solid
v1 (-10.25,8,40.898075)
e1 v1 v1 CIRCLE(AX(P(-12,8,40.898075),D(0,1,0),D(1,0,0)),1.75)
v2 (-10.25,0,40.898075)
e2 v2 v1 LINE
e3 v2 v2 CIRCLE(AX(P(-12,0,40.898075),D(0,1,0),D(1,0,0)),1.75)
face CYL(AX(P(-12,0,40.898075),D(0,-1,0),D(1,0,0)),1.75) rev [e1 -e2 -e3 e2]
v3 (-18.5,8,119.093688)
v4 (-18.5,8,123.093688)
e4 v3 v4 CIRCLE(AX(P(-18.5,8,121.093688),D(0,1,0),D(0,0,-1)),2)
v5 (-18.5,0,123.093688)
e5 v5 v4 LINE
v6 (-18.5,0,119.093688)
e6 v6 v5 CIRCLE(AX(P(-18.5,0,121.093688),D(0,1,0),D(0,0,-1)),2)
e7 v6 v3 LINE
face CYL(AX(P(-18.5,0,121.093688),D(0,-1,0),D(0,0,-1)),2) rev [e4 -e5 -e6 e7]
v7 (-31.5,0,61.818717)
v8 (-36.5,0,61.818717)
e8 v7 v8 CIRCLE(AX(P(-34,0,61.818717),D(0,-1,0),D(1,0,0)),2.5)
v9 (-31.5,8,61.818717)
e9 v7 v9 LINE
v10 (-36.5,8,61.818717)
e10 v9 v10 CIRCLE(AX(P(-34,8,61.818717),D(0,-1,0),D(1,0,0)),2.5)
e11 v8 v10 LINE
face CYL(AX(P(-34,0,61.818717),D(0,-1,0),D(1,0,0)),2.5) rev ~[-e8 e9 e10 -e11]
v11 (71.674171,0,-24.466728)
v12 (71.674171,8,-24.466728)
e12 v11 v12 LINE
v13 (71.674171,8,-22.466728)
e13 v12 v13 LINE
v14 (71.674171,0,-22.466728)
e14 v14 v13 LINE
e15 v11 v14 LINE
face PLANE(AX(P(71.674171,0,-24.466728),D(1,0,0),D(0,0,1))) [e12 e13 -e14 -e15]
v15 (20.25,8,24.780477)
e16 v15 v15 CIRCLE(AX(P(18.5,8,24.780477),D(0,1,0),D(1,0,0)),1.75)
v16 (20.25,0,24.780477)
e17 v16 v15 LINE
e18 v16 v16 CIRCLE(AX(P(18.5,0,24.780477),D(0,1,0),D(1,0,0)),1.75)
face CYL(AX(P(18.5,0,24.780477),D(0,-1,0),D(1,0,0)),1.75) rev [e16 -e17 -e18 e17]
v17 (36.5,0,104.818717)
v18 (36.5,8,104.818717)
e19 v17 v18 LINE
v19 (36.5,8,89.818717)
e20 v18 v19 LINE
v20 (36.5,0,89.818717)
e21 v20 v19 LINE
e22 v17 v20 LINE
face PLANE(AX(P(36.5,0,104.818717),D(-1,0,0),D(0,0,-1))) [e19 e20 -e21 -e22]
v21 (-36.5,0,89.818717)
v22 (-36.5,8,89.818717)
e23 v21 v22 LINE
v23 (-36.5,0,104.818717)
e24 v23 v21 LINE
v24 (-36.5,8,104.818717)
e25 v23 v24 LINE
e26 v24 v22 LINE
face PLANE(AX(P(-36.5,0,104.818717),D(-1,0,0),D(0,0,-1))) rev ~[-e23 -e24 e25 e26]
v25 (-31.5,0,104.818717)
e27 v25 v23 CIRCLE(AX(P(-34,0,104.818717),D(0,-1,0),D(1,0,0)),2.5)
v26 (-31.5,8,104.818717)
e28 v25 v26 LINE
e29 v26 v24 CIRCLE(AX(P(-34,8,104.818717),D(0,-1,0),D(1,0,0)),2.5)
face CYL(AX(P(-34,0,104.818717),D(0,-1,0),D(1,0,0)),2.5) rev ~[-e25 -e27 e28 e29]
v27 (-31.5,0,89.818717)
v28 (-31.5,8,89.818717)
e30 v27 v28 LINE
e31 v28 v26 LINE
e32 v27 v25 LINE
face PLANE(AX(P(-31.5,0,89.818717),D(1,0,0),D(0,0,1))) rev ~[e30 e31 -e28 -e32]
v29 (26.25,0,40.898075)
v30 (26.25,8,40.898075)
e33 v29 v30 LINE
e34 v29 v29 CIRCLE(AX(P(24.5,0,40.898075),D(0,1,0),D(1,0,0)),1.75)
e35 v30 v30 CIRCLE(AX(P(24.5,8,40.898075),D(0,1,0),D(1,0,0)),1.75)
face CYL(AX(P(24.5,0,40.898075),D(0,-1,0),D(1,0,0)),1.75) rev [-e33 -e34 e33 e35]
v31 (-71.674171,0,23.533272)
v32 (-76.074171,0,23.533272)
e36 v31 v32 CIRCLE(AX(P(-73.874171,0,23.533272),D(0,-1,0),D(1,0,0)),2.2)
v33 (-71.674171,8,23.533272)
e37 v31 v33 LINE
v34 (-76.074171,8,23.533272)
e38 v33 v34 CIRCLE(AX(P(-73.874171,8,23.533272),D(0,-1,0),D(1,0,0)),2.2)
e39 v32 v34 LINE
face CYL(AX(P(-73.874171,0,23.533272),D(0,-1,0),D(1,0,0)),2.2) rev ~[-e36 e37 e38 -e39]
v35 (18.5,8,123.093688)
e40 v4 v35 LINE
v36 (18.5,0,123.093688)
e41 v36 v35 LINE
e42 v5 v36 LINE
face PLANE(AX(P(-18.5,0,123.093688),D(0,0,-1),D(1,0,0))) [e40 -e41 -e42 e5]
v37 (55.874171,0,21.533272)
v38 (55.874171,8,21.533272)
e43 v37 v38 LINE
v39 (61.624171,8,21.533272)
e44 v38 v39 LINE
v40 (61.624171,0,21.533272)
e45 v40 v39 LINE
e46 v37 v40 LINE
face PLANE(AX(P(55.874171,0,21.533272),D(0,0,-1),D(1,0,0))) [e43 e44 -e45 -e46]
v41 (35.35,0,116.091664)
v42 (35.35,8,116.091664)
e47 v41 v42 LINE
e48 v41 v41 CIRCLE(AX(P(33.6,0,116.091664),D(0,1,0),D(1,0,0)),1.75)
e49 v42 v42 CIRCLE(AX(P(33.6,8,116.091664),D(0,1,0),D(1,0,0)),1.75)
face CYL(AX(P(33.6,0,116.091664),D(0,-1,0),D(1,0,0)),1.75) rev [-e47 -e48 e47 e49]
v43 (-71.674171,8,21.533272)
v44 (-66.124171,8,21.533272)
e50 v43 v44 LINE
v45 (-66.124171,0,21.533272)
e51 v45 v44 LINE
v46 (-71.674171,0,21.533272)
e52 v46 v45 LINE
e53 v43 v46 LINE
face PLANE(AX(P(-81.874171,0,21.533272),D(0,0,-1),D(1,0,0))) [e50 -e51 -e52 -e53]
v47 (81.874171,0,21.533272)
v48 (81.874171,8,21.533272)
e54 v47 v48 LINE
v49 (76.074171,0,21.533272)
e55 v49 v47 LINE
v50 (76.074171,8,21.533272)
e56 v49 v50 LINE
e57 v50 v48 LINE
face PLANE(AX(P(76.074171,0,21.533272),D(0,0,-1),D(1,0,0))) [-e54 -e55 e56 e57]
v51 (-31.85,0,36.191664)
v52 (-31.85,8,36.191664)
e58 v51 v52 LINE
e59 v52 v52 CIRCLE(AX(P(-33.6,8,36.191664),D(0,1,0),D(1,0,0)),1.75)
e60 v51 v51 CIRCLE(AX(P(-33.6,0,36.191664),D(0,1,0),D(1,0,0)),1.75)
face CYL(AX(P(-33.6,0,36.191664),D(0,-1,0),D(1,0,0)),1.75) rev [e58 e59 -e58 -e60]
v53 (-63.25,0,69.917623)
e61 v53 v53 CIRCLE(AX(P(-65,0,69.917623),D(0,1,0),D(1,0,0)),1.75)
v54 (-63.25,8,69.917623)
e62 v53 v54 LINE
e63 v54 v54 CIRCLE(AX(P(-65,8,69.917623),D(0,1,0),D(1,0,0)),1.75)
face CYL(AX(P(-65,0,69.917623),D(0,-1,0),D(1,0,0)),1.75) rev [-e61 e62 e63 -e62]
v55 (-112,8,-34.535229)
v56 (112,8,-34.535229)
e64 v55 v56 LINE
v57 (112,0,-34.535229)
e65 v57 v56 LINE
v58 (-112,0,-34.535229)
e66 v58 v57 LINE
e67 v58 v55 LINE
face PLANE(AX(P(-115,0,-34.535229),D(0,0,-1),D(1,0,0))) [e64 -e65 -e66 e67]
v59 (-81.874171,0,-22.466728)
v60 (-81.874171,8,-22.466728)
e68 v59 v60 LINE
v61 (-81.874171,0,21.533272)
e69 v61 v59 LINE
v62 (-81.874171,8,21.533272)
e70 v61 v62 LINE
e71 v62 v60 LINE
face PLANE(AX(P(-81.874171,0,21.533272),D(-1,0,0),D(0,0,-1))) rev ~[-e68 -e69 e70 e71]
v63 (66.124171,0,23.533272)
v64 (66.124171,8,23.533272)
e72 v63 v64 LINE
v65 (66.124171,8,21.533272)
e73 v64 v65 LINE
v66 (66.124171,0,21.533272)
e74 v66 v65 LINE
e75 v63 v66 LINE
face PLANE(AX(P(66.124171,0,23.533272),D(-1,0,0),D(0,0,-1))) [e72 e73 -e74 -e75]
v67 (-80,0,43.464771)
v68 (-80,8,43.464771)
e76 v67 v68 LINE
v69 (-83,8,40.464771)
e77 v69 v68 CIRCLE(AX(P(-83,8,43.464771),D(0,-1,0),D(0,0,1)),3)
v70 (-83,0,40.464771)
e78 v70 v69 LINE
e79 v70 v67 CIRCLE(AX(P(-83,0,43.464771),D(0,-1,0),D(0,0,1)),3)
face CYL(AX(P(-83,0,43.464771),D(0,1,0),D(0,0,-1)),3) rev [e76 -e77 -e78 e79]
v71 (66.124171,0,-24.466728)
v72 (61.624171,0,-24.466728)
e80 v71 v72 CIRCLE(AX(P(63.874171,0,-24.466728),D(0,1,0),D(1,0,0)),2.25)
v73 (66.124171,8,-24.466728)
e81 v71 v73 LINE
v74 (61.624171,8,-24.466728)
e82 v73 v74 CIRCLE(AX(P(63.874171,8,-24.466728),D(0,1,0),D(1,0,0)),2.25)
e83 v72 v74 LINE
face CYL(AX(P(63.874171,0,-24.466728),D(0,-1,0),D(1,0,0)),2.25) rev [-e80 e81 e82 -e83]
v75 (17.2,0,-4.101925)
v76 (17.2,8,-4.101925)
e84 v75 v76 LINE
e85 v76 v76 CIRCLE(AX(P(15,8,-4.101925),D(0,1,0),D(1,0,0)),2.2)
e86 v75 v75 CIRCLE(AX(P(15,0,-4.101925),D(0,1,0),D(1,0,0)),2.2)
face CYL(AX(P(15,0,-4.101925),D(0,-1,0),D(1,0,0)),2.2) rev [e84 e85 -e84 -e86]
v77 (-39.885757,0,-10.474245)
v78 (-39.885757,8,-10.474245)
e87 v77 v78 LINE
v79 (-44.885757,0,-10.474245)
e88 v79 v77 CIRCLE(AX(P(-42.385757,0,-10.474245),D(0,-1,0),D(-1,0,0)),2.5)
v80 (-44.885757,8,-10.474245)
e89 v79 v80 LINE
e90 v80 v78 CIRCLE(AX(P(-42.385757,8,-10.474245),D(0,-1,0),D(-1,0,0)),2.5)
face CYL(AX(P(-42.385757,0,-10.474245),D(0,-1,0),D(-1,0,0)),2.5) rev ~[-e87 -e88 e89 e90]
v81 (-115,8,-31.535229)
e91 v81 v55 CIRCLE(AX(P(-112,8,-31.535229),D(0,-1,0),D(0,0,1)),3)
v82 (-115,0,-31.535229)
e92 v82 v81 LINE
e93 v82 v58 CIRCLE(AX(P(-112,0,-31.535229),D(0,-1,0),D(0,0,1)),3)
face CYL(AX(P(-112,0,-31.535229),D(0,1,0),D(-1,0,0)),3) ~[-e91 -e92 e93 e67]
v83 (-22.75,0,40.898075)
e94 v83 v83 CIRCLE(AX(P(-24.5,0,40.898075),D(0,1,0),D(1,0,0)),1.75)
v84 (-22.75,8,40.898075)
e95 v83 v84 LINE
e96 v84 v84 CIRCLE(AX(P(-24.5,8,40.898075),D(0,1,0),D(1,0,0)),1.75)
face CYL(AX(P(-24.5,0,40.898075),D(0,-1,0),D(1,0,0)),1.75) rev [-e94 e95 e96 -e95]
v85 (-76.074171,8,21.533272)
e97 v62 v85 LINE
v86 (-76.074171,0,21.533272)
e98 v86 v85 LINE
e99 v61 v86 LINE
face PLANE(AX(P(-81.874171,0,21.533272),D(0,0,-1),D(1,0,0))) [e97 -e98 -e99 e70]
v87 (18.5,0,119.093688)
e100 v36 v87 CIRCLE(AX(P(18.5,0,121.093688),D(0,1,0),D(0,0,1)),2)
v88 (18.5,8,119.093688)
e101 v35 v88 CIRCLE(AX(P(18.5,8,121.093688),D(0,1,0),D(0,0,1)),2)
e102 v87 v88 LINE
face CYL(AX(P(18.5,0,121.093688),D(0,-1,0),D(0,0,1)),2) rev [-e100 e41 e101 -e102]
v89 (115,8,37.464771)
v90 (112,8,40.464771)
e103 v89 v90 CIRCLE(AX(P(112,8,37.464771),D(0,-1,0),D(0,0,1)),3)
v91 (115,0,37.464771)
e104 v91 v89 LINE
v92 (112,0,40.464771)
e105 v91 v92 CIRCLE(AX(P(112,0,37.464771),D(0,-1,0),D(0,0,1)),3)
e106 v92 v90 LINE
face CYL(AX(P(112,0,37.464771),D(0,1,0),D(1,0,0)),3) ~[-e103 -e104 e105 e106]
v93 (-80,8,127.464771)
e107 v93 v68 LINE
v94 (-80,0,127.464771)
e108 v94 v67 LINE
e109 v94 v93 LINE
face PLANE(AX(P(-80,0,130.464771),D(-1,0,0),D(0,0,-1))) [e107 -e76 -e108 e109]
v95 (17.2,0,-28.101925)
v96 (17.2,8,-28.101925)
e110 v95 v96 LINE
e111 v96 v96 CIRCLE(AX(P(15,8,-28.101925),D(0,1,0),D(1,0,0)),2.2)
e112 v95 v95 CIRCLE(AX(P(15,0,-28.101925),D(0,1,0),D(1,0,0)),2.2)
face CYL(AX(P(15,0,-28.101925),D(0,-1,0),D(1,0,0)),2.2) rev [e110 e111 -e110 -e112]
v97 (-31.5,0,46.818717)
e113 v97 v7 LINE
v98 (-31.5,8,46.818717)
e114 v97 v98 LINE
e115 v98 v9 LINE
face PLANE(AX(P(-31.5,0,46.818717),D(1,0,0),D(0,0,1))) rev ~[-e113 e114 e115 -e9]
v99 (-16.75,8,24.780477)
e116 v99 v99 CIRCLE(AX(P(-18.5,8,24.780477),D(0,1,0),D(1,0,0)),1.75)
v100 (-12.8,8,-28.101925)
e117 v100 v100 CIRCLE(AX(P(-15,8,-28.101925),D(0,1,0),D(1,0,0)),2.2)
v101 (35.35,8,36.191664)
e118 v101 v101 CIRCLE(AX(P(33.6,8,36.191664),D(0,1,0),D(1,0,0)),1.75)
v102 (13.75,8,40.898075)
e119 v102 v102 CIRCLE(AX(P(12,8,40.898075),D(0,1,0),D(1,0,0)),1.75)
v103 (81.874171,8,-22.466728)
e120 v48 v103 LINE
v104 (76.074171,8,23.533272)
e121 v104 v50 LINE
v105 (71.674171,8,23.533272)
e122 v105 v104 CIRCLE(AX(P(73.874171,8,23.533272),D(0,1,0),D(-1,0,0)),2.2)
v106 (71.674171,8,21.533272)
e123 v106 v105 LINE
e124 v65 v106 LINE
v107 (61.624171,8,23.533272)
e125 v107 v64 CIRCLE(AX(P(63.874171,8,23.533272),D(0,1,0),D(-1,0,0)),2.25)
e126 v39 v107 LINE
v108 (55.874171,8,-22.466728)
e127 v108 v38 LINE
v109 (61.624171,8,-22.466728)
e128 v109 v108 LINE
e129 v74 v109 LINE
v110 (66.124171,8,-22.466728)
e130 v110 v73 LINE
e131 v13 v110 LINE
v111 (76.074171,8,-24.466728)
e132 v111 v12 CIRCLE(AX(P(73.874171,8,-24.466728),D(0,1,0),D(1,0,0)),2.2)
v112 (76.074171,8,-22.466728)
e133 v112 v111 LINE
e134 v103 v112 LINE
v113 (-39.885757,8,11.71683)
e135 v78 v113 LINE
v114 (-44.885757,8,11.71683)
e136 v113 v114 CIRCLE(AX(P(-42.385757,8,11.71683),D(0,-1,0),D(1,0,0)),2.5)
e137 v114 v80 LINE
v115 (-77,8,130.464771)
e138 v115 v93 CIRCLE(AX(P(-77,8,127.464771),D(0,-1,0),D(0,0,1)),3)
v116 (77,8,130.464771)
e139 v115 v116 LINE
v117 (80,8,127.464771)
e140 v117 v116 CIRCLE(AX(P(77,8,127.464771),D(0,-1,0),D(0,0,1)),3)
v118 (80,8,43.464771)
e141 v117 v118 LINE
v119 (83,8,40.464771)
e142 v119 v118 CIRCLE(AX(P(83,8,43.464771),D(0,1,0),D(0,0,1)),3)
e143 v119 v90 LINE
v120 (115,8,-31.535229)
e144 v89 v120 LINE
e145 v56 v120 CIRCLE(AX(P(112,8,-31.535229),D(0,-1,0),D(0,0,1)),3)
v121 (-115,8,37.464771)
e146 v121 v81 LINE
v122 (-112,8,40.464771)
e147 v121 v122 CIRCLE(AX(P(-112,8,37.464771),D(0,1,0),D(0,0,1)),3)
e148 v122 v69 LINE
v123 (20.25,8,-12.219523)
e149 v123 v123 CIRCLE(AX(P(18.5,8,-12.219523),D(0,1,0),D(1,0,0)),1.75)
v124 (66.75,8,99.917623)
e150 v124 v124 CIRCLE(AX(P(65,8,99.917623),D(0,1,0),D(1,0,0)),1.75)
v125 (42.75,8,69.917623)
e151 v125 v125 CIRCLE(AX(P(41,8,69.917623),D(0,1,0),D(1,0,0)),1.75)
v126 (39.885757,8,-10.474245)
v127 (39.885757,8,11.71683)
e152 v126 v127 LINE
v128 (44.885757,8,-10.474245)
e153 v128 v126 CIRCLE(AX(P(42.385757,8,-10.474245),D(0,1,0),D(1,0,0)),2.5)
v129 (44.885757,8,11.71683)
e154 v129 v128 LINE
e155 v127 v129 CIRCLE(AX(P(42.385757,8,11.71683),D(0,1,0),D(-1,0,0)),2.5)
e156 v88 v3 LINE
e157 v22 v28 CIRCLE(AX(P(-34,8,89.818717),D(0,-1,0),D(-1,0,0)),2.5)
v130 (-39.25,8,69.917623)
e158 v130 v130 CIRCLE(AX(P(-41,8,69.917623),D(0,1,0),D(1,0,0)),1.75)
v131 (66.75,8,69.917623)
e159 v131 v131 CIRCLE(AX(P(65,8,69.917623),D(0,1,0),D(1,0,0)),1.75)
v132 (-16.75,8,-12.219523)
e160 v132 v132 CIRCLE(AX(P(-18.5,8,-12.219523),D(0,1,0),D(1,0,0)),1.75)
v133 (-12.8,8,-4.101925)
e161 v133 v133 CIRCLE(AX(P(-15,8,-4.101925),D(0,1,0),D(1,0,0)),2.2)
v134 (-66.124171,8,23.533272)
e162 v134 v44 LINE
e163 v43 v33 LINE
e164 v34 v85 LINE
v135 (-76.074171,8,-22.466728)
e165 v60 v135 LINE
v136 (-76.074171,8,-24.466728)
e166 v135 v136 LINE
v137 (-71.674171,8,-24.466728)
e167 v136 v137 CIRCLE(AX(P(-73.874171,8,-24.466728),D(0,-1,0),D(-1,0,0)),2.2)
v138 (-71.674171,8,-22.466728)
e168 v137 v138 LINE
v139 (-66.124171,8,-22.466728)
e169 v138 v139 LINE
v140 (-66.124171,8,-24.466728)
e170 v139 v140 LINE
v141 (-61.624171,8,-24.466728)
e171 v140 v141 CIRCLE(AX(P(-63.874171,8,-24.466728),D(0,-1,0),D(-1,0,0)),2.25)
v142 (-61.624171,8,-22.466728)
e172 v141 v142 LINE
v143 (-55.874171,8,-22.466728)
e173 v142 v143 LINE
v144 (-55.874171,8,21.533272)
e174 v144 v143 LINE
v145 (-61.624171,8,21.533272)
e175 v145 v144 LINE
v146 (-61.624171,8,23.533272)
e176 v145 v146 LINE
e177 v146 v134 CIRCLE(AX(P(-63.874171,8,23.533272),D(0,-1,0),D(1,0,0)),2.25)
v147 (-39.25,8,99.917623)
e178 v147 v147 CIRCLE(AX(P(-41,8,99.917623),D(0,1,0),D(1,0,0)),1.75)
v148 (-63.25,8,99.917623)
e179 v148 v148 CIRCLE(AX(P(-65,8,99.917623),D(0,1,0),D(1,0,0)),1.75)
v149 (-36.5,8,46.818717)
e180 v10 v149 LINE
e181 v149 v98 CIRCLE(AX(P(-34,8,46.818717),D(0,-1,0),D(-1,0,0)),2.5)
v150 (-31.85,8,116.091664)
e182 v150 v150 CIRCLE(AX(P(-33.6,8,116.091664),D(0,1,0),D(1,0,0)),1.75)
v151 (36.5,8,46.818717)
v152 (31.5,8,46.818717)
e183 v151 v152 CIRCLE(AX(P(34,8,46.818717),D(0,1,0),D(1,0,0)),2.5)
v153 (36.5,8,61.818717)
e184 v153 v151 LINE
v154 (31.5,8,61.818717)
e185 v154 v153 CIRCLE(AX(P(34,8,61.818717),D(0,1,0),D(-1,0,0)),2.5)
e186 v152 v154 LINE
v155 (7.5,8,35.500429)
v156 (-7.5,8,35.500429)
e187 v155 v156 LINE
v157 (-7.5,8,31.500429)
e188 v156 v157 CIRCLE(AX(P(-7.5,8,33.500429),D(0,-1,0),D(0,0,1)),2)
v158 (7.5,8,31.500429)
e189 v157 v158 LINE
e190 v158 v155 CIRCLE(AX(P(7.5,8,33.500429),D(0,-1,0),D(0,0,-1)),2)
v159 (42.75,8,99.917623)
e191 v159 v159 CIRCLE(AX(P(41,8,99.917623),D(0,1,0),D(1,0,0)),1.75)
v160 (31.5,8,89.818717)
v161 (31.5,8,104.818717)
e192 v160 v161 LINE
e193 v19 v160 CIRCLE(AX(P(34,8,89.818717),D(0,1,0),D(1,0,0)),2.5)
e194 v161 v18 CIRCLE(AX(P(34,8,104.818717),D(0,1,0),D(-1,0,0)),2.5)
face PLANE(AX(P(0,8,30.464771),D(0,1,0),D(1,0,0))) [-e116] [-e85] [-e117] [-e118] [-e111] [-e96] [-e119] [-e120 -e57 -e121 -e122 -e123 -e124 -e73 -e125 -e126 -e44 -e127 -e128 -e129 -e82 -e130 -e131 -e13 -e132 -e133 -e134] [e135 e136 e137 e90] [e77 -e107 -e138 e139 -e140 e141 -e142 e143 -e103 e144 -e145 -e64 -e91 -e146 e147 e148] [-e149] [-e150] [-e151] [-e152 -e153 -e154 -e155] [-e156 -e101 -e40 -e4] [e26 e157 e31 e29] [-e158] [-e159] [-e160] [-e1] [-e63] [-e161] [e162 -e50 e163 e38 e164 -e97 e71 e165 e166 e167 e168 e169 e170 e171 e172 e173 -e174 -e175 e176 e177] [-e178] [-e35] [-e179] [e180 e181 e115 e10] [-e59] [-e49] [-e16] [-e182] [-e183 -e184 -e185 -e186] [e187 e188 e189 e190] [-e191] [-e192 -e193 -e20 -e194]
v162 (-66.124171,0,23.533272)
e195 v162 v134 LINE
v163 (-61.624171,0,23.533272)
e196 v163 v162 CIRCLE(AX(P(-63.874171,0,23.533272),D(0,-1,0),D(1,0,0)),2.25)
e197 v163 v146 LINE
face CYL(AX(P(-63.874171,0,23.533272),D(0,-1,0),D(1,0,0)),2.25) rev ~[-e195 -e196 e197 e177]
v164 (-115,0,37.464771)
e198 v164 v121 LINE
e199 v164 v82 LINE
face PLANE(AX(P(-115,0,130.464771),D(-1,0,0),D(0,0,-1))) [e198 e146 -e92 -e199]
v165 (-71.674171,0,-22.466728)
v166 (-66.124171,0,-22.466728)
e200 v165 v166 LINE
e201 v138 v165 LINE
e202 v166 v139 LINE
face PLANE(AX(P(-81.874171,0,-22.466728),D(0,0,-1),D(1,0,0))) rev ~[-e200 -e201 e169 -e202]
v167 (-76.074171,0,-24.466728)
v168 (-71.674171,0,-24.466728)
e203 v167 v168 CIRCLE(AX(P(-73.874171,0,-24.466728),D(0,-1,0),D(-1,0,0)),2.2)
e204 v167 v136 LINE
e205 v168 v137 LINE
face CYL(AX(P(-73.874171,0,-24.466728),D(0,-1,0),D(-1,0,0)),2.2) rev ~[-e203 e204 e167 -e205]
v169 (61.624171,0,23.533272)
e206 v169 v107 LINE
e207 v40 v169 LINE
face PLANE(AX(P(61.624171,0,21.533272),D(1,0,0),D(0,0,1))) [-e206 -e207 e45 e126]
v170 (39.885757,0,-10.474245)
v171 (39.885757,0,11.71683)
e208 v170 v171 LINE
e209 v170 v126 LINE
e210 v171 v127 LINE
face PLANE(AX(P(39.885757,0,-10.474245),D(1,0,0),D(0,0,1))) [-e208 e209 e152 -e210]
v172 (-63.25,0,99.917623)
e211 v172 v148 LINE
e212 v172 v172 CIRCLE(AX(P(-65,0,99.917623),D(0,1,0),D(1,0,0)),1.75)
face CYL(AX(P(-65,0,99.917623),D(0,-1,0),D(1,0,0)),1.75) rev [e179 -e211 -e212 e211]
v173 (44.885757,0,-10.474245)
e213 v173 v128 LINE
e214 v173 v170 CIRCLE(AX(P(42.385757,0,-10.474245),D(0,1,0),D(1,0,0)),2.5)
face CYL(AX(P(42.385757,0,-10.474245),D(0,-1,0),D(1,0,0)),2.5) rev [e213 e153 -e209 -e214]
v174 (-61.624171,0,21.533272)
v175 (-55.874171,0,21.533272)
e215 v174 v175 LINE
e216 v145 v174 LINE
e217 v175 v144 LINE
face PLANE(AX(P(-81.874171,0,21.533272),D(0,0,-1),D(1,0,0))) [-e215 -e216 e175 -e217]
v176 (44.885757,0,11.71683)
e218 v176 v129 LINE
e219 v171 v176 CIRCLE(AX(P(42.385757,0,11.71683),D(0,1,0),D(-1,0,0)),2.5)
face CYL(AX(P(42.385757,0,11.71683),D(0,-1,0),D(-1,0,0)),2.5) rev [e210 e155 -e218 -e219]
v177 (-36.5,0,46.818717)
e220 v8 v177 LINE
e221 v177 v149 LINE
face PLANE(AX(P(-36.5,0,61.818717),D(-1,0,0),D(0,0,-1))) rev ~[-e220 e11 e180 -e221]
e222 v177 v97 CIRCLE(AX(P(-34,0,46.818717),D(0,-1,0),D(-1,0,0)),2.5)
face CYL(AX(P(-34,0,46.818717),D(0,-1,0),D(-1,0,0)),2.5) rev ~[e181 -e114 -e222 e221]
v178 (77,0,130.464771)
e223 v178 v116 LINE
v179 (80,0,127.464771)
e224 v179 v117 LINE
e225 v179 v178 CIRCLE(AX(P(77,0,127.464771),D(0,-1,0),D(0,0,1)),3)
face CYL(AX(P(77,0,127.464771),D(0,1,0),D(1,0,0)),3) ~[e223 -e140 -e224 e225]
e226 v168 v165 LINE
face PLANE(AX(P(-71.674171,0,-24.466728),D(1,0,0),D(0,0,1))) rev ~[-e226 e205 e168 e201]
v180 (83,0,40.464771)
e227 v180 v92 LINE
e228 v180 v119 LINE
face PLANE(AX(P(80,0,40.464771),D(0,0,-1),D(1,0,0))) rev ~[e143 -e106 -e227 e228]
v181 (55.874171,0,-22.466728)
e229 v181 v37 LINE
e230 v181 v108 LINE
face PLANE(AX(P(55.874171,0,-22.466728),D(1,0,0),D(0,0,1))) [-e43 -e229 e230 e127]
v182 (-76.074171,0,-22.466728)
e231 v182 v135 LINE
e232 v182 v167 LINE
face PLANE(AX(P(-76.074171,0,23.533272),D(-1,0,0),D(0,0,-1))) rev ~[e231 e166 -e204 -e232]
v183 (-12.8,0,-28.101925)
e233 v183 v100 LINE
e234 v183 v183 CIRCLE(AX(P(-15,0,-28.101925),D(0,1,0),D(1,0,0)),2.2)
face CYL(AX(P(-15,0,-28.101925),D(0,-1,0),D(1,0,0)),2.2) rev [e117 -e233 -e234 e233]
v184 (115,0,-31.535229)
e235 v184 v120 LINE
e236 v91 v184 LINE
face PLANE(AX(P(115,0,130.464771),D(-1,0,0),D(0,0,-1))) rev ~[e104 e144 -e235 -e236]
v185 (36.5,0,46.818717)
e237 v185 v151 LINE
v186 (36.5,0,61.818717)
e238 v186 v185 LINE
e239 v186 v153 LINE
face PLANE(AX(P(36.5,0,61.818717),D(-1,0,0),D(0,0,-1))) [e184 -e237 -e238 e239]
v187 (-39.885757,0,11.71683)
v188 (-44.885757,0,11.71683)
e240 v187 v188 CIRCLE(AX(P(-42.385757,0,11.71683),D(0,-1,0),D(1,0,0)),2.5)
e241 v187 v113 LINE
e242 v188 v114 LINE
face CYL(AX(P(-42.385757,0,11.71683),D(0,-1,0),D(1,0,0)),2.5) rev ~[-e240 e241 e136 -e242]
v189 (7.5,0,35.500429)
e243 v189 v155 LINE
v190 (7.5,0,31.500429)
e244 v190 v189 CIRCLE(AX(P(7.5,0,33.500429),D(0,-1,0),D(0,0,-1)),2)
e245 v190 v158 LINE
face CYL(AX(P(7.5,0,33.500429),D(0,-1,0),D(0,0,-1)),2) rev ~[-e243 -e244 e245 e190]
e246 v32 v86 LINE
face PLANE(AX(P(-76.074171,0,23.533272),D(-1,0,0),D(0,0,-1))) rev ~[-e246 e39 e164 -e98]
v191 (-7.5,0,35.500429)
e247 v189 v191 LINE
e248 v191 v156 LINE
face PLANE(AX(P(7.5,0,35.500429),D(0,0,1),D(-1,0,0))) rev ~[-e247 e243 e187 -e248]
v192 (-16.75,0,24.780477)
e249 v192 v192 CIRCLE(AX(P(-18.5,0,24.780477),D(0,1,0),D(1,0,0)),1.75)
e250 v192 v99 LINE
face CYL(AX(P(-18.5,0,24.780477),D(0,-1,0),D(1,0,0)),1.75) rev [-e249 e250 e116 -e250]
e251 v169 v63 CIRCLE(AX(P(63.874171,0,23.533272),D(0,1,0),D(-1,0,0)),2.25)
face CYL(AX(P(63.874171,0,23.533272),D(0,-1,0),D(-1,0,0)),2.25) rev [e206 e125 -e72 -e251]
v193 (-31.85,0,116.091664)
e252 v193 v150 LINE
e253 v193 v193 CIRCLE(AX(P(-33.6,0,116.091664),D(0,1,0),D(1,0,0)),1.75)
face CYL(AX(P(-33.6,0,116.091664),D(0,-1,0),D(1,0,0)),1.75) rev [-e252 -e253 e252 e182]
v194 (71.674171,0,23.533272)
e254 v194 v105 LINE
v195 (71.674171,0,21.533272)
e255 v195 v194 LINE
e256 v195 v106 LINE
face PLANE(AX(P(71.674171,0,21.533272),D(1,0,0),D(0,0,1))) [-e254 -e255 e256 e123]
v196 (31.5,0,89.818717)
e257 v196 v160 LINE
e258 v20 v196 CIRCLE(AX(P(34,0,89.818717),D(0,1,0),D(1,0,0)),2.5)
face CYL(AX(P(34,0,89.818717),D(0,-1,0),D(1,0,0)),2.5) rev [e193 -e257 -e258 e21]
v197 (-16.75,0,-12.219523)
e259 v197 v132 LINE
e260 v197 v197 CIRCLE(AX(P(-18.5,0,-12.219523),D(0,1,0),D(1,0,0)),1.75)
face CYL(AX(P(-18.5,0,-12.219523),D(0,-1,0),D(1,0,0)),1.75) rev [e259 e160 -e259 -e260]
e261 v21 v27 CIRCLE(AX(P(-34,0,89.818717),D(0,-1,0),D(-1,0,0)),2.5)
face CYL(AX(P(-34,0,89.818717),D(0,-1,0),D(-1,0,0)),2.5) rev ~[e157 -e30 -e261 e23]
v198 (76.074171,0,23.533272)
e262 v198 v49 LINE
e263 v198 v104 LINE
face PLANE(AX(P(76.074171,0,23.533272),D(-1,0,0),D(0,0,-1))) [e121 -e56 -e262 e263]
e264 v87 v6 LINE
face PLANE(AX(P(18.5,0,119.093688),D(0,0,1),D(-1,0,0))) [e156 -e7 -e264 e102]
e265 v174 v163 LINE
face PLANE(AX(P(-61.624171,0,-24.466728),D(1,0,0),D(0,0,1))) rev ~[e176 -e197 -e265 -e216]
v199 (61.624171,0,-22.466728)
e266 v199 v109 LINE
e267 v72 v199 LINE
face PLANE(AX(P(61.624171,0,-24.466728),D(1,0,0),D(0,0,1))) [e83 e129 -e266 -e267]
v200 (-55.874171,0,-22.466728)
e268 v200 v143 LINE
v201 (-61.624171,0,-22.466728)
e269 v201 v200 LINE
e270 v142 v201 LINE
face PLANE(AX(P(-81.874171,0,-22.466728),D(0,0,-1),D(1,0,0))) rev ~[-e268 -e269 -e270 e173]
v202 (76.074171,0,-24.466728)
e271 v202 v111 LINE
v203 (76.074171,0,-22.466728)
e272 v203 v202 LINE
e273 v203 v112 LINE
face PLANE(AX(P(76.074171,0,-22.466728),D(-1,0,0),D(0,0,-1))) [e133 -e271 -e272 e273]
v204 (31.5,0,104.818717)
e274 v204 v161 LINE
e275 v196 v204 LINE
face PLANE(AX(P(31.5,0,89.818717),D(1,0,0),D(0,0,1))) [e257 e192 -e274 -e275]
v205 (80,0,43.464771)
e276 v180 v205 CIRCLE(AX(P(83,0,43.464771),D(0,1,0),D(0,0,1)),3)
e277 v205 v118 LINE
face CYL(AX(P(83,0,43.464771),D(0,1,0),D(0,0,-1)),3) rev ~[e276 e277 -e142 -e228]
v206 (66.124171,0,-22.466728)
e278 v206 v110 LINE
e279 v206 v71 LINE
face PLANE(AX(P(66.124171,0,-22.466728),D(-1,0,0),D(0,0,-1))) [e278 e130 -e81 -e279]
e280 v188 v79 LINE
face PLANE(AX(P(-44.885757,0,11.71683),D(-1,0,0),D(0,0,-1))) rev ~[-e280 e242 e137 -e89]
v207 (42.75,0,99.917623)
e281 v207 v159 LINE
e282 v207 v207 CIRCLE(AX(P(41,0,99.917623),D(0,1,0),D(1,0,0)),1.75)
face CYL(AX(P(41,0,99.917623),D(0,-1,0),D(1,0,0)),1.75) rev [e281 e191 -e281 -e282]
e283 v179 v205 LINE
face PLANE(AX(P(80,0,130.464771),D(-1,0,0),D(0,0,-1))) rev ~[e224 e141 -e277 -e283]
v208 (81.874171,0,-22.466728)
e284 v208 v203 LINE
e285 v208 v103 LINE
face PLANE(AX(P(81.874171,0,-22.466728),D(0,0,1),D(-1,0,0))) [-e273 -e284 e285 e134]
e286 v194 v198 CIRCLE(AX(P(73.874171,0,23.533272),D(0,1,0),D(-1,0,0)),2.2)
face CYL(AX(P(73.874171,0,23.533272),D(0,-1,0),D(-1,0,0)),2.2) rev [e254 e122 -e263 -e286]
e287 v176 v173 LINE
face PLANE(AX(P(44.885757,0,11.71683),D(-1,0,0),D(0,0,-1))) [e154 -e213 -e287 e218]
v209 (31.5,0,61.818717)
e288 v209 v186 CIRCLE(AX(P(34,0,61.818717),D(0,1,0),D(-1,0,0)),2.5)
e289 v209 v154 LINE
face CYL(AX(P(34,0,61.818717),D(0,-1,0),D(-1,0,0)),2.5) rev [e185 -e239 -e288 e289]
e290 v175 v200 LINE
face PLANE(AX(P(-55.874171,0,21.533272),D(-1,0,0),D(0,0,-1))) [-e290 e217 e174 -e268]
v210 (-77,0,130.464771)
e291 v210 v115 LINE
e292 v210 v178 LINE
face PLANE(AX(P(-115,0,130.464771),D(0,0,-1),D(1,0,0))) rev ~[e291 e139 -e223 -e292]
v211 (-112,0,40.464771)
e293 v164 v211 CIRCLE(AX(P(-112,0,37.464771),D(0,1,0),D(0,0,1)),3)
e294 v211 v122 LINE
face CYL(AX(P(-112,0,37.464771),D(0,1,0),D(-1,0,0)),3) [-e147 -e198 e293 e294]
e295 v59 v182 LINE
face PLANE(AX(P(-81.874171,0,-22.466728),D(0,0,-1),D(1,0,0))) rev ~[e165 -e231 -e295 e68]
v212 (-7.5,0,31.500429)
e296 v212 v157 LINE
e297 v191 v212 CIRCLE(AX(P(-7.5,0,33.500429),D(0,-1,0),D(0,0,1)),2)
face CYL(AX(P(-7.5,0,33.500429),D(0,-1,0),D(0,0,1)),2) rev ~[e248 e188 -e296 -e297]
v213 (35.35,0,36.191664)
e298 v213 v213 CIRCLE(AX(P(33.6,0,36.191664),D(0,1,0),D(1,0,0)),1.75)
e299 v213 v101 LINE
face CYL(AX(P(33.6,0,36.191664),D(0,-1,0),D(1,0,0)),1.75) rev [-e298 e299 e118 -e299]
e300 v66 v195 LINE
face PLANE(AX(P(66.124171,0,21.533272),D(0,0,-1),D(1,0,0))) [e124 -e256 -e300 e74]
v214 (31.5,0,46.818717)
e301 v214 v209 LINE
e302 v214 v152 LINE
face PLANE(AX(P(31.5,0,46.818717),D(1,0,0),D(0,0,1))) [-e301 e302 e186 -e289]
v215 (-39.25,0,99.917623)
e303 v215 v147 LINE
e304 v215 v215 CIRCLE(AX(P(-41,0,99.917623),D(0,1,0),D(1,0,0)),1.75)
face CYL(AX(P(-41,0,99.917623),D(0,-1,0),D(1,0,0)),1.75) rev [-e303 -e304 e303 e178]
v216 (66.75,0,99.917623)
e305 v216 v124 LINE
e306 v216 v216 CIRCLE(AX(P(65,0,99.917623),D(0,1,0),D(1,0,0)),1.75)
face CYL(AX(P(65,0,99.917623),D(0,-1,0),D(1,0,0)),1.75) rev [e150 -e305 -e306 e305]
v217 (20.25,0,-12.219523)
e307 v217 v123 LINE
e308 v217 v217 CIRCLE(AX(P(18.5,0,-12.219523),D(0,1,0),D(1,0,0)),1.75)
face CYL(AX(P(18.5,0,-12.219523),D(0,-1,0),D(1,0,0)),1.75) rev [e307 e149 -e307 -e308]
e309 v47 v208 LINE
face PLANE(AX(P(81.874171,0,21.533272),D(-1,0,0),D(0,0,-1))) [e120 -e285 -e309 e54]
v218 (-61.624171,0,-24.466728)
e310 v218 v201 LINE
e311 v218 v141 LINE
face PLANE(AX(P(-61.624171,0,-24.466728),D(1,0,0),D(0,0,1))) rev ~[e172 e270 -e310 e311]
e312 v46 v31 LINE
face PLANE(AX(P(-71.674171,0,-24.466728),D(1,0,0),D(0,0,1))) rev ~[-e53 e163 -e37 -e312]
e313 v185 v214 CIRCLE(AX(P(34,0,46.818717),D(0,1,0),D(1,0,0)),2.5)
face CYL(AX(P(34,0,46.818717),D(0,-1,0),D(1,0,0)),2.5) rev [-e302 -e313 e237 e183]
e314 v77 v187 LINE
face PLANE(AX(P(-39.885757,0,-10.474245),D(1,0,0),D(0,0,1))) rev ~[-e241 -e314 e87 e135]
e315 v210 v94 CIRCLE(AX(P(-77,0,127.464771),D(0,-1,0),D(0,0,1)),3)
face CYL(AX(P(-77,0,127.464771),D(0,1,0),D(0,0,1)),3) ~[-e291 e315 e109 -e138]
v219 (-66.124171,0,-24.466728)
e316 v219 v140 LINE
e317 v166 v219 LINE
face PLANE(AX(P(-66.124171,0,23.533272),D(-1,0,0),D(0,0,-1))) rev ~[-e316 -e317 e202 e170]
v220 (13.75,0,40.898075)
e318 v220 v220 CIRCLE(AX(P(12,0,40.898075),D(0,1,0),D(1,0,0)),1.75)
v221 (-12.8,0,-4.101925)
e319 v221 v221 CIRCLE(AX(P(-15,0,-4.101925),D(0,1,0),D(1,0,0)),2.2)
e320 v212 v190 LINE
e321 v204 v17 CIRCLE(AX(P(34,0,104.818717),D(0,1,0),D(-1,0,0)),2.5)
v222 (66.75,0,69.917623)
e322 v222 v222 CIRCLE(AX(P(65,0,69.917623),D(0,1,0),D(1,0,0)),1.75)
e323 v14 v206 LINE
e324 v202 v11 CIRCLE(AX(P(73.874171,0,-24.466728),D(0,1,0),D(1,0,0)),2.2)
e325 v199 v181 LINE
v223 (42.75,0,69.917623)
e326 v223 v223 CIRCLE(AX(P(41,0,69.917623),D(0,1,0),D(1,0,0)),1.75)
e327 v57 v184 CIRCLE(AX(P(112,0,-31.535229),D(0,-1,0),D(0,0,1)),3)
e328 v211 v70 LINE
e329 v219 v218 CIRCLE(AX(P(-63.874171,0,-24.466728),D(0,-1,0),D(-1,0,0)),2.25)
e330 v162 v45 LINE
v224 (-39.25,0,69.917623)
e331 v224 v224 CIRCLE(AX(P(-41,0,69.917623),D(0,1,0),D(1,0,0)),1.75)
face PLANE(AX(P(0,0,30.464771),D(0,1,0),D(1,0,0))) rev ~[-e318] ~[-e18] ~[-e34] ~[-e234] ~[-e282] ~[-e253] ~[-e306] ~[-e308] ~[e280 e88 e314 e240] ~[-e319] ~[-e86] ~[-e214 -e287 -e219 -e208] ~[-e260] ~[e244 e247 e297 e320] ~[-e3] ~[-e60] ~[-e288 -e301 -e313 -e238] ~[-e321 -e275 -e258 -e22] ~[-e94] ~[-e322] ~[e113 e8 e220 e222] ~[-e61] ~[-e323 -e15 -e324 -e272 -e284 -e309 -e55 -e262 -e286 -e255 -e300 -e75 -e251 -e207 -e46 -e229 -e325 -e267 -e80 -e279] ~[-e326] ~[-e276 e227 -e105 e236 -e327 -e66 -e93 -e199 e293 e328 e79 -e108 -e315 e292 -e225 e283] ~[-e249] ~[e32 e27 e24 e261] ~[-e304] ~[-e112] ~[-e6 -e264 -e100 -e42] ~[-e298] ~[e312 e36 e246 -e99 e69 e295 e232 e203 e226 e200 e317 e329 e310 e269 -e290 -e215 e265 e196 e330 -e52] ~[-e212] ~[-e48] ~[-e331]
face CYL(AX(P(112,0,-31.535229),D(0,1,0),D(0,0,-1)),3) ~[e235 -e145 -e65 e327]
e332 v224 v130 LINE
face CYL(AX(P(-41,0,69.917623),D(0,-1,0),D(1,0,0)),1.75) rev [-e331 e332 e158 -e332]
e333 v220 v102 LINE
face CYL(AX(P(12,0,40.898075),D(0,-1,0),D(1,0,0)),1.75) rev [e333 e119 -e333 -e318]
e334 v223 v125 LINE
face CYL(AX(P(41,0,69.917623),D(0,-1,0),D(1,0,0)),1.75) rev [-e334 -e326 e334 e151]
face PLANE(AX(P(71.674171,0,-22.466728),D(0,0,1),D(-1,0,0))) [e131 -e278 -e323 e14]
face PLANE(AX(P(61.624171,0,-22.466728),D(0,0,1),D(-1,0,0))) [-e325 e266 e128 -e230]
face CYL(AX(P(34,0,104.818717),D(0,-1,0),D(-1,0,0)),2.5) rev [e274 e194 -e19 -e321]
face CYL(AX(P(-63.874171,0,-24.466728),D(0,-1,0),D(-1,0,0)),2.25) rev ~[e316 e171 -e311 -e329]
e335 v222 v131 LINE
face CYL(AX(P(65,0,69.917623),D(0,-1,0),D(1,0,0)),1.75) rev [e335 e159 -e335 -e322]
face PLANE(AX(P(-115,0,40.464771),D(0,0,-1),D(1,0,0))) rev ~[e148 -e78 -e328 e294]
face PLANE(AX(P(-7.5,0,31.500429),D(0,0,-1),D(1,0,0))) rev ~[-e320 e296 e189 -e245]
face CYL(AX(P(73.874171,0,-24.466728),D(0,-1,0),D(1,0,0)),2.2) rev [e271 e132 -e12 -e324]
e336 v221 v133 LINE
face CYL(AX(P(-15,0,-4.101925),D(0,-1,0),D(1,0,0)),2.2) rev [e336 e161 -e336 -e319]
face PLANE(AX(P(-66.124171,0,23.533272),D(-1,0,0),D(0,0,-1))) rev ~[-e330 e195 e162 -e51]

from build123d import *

# Parameters (mm, degrees)
SKETCH_1_W           = 230
SKETCH_1_H           = 200
EXTRUDE_1_DEPTH      = 8
SKETCH_2_R           = 1.75
SKETCH_2_R_2         = 2.2
SKETCH_2_W           = 26
SKETCH_2_H           = 44
CUT_EXTRUDE_2_DEPTH  = 8
CUT_EXTRUDE_3_DEPTH  = 8
CUT_EXTRUDE_5_DEPTH  = 8
CUT_EXTRUDE_6_DEPTH  = 8
CUT_EXTRUDE_7_DEPTH  = 8
SKETCH_2_5_W         = 35
SKETCH_2_5_H         = 90
CUT_EXTRUDE_10_DEPTH = 8
SKETCH_4_W           = 230
SKETCH_4_H           = 35
CUT_EXTRUDE_12_DEPTH = 8
FILLET_1_R           = 3


with BuildPart() as part:
    # 草图1 → 凸台-拉伸1 (new body)
    with BuildSketch(Plane(origin=(0, 0, 0), x_dir=(1, 0, 0), z_dir=(0, 1, 0))):
        with Locations((0, -30.464770869)):
            Rectangle(SKETCH_1_W, SKETCH_1_H)
    extrude(amount=EXTRUDE_1_DEPTH)

    # 草图2 → 切除-拉伸2 (cut)
    with BuildSketch(Plane(origin=(0, 0, 0), x_dir=(1, 0, 0), z_dir=(0, 1, 0))):
        with Locations((-33.6, -36.191664289)):
            Circle(SKETCH_2_R)
        with Locations((33.6, -36.191664289)):
            Circle(SKETCH_2_R)
        with Locations((-33.6, -116.091664289)):
            Circle(SKETCH_2_R)
        with Locations((33.6, -116.091664289)):
            Circle(SKETCH_2_R)
        with Locations((-41, -69.917622991)):
            Circle(SKETCH_2_R)
        with Locations((-41, -99.917622991)):
            Circle(SKETCH_2_R)
        with Locations((-65, -99.917622991)):
            Circle(SKETCH_2_R)
        with Locations((-65, -69.917622991)):
            Circle(SKETCH_2_R)
        with Locations((-24.5, -40.898074934)):
            Circle(SKETCH_2_R)
        with Locations((-12, -40.898074934)):
            Circle(SKETCH_2_R)
        with Locations((-18.5, 12.219522809)):
            Circle(SKETCH_2_R)
        with Locations((18.5, 12.219522809)):
            Circle(SKETCH_2_R)
        with Locations((18.5, -24.780477191)):
            Circle(SKETCH_2_R)
        with Locations((-18.5, -24.780477191)):
            Circle(SKETCH_2_R)
        with Locations((24.5, -40.898074934)):
            Circle(SKETCH_2_R)
        with Locations((12, -40.898074934)):
            Circle(SKETCH_2_R)
        with Locations((41, -69.917622991)):
            Circle(SKETCH_2_R)
        with Locations((41, -99.917622991)):
            Circle(SKETCH_2_R)
        with Locations((65, -99.917622991)):
            Circle(SKETCH_2_R)
        with Locations((65, -69.917622991)):
            Circle(SKETCH_2_R)
        with Locations((-15, 28.10192507)):
            Circle(SKETCH_2_R_2)
        with Locations((-15, 4.10192507)):
            Circle(SKETCH_2_R_2)
        with Locations((15, 28.10192507)):
            Circle(SKETCH_2_R_2)
        with Locations((15, 4.10192507)):
            Circle(SKETCH_2_R_2)
        with Locations((-68.874170888, 0.466727974)):
            Rectangle(SKETCH_2_W, SKETCH_2_H)
        with Locations((68.874170888, 0.466727974)):
            Rectangle(SKETCH_2_W, SKETCH_2_H)
        with BuildLine():
            Line((61.624170888, 24.466727974), (61.624170888, -23.533272026))
            ThreePointArc((61.624170888, -23.533272026), (63.874170888, -25.783272026), (66.124170888, -23.533272026))
            Line((66.124170888, -23.533272026), (66.124170888, 24.466727974))
            ThreePointArc((66.124170888, 24.466727974), (63.874170888, 26.716727974), (61.624170888, 24.466727974))
        make_face()
        with BuildLine():
            Line((-18.5, -119.09368767), (18.5, -119.09368767))
            ThreePointArc((18.5, -119.09368767), (20.5, -121.09368767), (18.5, -123.09368767))
            Line((18.5, -123.09368767), (-18.5, -123.09368767))
            ThreePointArc((-18.5, -123.09368767), (-20.5, -121.09368767), (-18.5, -119.09368767))
        make_face()
        with BuildLine():
            Line((71.674170888, 24.466727974), (71.674170888, -23.533272026))
            ThreePointArc((71.674170888, -23.533272026), (73.874170888, -25.733272026), (76.074170888, -23.533272026))
            Line((76.074170888, -23.533272026), (76.074170888, 24.466727974))
            ThreePointArc((76.074170888, 24.466727974), (73.874170888, 26.666727974), (71.674170888, 24.466727974))
        make_face()
    extrude(amount=CUT_EXTRUDE_2_DEPTH, mode=Mode.SUBTRACT)

    # 草图2<3> → 切除-拉伸3 (cut)
    with BuildSketch(Plane(origin=(0, 0, 0), x_dir=(1, 0, 0), z_dir=(0, 1, 0))):
        with BuildLine():
            Line((-71.674170888, 24.466727974), (-71.674170888, -23.533272026))
            ThreePointArc((-71.674170888, -23.533272026), (-73.874170888, -25.733272026), (-76.074170888, -23.533272026))
            Line((-76.074170888, -23.533272026), (-76.074170888, 24.466727974))
            ThreePointArc((-76.074170888, 24.466727974), (-73.874170888, 26.666727974), (-71.674170888, 24.466727974))
        make_face()
        with BuildLine():
            Line((61.624170888, 24.466727974), (61.624170888, -23.533272026))
            ThreePointArc((61.624170888, -23.533272026), (63.874170888, -25.783272026), (66.124170888, -23.533272026))
            Line((66.124170888, -23.533272026), (66.124170888, 24.466727974))
            ThreePointArc((66.124170888, 24.466727974), (63.874170888, 26.716727974), (61.624170888, 24.466727974))
        make_face()
        with BuildLine():
            Line((-61.624170888, 24.466727974), (-61.624170888, -23.533272026))
            ThreePointArc((-61.624170888, -23.533272026), (-63.874170888, -25.783272026), (-66.124170888, -23.533272026))
            Line((-66.124170888, -23.533272026), (-66.124170888, 24.466727974))
            ThreePointArc((-66.124170888, 24.466727974), (-63.874170888, 26.716727974), (-61.624170888, 24.466727974))
        make_face()
        with BuildLine():
            Line((71.674170888, 24.466727974), (71.674170888, -23.533272026))
            ThreePointArc((71.674170888, -23.533272026), (73.874170888, -25.733272026), (76.074170888, -23.533272026))
            Line((76.074170888, -23.533272026), (76.074170888, 24.466727974))
            ThreePointArc((76.074170888, 24.466727974), (73.874170888, 26.666727974), (71.674170888, 24.466727974))
        make_face()
    extrude(amount=CUT_EXTRUDE_3_DEPTH, mode=Mode.SUBTRACT)

    # 草图3 → 切除-拉伸5 (cut)
    with BuildSketch(Plane(origin=(0, 0, 0), x_dir=(1, 0, 0), z_dir=(0, 1, 0))):
        with BuildLine():
            Line((-39.885757196, 10.474245388), (-39.885757196, -11.716830422))
            ThreePointArc((-39.885757196, -11.716830422), (-42.385757196, -14.216830422), (-44.885757196, -11.716830422))
            Line((-44.885757196, -11.716830422), (-44.885757196, 10.474245388))
            ThreePointArc((-44.885757196, 10.474245388), (-42.385757196, 12.974245388), (-39.885757196, 10.474245388))
        make_face()
        with BuildLine():
            Line((39.885757196, 10.474245388), (39.885757196, -11.716830422))
            ThreePointArc((39.885757196, -11.716830422), (42.385757196, -14.216830422), (44.885757196, -11.716830422))
            Line((44.885757196, -11.716830422), (44.885757196, 10.474245388))
            ThreePointArc((44.885757196, 10.474245388), (42.385757196, 12.974245388), (39.885757196, 10.474245388))
        make_face()
    extrude(amount=CUT_EXTRUDE_5_DEPTH, mode=Mode.SUBTRACT)

    # 草图3<5> → 切除-拉伸6 (cut)
    with BuildSketch(Plane(origin=(0, 0, 0), x_dir=(1, 0, 0), z_dir=(0, 1, 0))):
        with BuildLine():
            Line((-36.5, -104.818717243), (-36.5, -89.818717243))
            ThreePointArc((-36.5, -89.818717243), (-34, -87.318717243), (-31.5, -89.818717243))
            Line((-31.5, -89.818717243), (-31.5, -104.818717243))
            ThreePointArc((-31.5, -104.818717243), (-34, -107.318717243), (-36.5, -104.818717243))
        make_face()
        with BuildLine():
            Line((-31.5, -46.818717243), (-31.5, -61.818717243))
            ThreePointArc((-31.5, -61.818717243), (-34, -64.318717243), (-36.5, -61.818717243))
            Line((-36.5, -61.818717243), (-36.5, -46.818717243))
            ThreePointArc((-36.5, -46.818717243), (-34, -44.318717243), (-31.5, -46.818717243))
        make_face()
        with BuildLine():
            Line((36.5, -104.818717243), (36.5, -89.818717243))
            ThreePointArc((36.5, -89.818717243), (34, -87.318717243), (31.5, -89.818717243))
            Line((31.5, -89.818717243), (31.5, -104.818717243))
            ThreePointArc((31.5, -104.818717243), (34, -107.318717243), (36.5, -104.818717243))
        make_face()
        with BuildLine():
            Line((31.5, -46.818717243), (31.5, -61.818717243))
            ThreePointArc((31.5, -61.818717243), (34, -64.318717243), (36.5, -61.818717243))
            Line((36.5, -61.818717243), (36.5, -46.818717243))
            ThreePointArc((36.5, -46.818717243), (34, -44.318717243), (31.5, -46.818717243))
        make_face()
    extrude(amount=CUT_EXTRUDE_6_DEPTH, mode=Mode.SUBTRACT)

    # 草图3<6> → 切除-拉伸7 (cut)
    with BuildSketch(Plane(origin=(0, 0, 0), x_dir=(1, 0, 0), z_dir=(0, 1, 0))):
        with BuildLine():
            Line((-7.5, -31.500429428), (7.5, -31.500429428))
            ThreePointArc((7.5, -31.500429428), (9.5, -33.500429428), (7.5, -35.500429428))
            Line((7.5, -35.500429428), (-7.5, -35.500429428))
            ThreePointArc((-7.5, -35.500429428), (-9.5, -33.500429428), (-7.5, -31.500429428))
        make_face()
    extrude(amount=CUT_EXTRUDE_7_DEPTH, mode=Mode.SUBTRACT)

    # 草图2<5> → 切除-拉伸10 (cut)
    with BuildSketch(Plane(origin=(0, 0, 0), x_dir=(1, 0, 0), z_dir=(0, 1, 0))):
        with Locations((-97.5, -85.464770869)):
            Rectangle(SKETCH_2_5_W, SKETCH_2_5_H)
        with Locations((97.5, -85.464770869)):
            Rectangle(SKETCH_2_5_W, SKETCH_2_5_H)
    extrude(amount=CUT_EXTRUDE_10_DEPTH, mode=Mode.SUBTRACT)

    # 草图4 → 切除-拉伸12 (cut)
    with BuildSketch(Plane(origin=(0, 0, 0), x_dir=(1, 0, 0), z_dir=(0, 1, 0))):
        with Locations((0, 52.035229131)):
            Rectangle(SKETCH_4_W, SKETCH_4_H)
    extrude(amount=CUT_EXTRUDE_12_DEPTH, mode=Mode.SUBTRACT)

    # 圆角1
    fillet_1_edges = [part.edges().sort_by_distance(p)[0] for p in [
        (115, 4, -34.535229131),
        (115, 4, 40.464770869),
        (80, 4, 40.464770869),
        (80, 4, 130.464770869),
        (-80, 4, 130.464770869),
        (-80, 4, 40.464770869),
        (-115, 4, 40.464770869),
        (-115, 4, -34.535229131),
    ]]
    fillet(fillet_1_edges, radius=FILLET_1_R)


solid = part.part
